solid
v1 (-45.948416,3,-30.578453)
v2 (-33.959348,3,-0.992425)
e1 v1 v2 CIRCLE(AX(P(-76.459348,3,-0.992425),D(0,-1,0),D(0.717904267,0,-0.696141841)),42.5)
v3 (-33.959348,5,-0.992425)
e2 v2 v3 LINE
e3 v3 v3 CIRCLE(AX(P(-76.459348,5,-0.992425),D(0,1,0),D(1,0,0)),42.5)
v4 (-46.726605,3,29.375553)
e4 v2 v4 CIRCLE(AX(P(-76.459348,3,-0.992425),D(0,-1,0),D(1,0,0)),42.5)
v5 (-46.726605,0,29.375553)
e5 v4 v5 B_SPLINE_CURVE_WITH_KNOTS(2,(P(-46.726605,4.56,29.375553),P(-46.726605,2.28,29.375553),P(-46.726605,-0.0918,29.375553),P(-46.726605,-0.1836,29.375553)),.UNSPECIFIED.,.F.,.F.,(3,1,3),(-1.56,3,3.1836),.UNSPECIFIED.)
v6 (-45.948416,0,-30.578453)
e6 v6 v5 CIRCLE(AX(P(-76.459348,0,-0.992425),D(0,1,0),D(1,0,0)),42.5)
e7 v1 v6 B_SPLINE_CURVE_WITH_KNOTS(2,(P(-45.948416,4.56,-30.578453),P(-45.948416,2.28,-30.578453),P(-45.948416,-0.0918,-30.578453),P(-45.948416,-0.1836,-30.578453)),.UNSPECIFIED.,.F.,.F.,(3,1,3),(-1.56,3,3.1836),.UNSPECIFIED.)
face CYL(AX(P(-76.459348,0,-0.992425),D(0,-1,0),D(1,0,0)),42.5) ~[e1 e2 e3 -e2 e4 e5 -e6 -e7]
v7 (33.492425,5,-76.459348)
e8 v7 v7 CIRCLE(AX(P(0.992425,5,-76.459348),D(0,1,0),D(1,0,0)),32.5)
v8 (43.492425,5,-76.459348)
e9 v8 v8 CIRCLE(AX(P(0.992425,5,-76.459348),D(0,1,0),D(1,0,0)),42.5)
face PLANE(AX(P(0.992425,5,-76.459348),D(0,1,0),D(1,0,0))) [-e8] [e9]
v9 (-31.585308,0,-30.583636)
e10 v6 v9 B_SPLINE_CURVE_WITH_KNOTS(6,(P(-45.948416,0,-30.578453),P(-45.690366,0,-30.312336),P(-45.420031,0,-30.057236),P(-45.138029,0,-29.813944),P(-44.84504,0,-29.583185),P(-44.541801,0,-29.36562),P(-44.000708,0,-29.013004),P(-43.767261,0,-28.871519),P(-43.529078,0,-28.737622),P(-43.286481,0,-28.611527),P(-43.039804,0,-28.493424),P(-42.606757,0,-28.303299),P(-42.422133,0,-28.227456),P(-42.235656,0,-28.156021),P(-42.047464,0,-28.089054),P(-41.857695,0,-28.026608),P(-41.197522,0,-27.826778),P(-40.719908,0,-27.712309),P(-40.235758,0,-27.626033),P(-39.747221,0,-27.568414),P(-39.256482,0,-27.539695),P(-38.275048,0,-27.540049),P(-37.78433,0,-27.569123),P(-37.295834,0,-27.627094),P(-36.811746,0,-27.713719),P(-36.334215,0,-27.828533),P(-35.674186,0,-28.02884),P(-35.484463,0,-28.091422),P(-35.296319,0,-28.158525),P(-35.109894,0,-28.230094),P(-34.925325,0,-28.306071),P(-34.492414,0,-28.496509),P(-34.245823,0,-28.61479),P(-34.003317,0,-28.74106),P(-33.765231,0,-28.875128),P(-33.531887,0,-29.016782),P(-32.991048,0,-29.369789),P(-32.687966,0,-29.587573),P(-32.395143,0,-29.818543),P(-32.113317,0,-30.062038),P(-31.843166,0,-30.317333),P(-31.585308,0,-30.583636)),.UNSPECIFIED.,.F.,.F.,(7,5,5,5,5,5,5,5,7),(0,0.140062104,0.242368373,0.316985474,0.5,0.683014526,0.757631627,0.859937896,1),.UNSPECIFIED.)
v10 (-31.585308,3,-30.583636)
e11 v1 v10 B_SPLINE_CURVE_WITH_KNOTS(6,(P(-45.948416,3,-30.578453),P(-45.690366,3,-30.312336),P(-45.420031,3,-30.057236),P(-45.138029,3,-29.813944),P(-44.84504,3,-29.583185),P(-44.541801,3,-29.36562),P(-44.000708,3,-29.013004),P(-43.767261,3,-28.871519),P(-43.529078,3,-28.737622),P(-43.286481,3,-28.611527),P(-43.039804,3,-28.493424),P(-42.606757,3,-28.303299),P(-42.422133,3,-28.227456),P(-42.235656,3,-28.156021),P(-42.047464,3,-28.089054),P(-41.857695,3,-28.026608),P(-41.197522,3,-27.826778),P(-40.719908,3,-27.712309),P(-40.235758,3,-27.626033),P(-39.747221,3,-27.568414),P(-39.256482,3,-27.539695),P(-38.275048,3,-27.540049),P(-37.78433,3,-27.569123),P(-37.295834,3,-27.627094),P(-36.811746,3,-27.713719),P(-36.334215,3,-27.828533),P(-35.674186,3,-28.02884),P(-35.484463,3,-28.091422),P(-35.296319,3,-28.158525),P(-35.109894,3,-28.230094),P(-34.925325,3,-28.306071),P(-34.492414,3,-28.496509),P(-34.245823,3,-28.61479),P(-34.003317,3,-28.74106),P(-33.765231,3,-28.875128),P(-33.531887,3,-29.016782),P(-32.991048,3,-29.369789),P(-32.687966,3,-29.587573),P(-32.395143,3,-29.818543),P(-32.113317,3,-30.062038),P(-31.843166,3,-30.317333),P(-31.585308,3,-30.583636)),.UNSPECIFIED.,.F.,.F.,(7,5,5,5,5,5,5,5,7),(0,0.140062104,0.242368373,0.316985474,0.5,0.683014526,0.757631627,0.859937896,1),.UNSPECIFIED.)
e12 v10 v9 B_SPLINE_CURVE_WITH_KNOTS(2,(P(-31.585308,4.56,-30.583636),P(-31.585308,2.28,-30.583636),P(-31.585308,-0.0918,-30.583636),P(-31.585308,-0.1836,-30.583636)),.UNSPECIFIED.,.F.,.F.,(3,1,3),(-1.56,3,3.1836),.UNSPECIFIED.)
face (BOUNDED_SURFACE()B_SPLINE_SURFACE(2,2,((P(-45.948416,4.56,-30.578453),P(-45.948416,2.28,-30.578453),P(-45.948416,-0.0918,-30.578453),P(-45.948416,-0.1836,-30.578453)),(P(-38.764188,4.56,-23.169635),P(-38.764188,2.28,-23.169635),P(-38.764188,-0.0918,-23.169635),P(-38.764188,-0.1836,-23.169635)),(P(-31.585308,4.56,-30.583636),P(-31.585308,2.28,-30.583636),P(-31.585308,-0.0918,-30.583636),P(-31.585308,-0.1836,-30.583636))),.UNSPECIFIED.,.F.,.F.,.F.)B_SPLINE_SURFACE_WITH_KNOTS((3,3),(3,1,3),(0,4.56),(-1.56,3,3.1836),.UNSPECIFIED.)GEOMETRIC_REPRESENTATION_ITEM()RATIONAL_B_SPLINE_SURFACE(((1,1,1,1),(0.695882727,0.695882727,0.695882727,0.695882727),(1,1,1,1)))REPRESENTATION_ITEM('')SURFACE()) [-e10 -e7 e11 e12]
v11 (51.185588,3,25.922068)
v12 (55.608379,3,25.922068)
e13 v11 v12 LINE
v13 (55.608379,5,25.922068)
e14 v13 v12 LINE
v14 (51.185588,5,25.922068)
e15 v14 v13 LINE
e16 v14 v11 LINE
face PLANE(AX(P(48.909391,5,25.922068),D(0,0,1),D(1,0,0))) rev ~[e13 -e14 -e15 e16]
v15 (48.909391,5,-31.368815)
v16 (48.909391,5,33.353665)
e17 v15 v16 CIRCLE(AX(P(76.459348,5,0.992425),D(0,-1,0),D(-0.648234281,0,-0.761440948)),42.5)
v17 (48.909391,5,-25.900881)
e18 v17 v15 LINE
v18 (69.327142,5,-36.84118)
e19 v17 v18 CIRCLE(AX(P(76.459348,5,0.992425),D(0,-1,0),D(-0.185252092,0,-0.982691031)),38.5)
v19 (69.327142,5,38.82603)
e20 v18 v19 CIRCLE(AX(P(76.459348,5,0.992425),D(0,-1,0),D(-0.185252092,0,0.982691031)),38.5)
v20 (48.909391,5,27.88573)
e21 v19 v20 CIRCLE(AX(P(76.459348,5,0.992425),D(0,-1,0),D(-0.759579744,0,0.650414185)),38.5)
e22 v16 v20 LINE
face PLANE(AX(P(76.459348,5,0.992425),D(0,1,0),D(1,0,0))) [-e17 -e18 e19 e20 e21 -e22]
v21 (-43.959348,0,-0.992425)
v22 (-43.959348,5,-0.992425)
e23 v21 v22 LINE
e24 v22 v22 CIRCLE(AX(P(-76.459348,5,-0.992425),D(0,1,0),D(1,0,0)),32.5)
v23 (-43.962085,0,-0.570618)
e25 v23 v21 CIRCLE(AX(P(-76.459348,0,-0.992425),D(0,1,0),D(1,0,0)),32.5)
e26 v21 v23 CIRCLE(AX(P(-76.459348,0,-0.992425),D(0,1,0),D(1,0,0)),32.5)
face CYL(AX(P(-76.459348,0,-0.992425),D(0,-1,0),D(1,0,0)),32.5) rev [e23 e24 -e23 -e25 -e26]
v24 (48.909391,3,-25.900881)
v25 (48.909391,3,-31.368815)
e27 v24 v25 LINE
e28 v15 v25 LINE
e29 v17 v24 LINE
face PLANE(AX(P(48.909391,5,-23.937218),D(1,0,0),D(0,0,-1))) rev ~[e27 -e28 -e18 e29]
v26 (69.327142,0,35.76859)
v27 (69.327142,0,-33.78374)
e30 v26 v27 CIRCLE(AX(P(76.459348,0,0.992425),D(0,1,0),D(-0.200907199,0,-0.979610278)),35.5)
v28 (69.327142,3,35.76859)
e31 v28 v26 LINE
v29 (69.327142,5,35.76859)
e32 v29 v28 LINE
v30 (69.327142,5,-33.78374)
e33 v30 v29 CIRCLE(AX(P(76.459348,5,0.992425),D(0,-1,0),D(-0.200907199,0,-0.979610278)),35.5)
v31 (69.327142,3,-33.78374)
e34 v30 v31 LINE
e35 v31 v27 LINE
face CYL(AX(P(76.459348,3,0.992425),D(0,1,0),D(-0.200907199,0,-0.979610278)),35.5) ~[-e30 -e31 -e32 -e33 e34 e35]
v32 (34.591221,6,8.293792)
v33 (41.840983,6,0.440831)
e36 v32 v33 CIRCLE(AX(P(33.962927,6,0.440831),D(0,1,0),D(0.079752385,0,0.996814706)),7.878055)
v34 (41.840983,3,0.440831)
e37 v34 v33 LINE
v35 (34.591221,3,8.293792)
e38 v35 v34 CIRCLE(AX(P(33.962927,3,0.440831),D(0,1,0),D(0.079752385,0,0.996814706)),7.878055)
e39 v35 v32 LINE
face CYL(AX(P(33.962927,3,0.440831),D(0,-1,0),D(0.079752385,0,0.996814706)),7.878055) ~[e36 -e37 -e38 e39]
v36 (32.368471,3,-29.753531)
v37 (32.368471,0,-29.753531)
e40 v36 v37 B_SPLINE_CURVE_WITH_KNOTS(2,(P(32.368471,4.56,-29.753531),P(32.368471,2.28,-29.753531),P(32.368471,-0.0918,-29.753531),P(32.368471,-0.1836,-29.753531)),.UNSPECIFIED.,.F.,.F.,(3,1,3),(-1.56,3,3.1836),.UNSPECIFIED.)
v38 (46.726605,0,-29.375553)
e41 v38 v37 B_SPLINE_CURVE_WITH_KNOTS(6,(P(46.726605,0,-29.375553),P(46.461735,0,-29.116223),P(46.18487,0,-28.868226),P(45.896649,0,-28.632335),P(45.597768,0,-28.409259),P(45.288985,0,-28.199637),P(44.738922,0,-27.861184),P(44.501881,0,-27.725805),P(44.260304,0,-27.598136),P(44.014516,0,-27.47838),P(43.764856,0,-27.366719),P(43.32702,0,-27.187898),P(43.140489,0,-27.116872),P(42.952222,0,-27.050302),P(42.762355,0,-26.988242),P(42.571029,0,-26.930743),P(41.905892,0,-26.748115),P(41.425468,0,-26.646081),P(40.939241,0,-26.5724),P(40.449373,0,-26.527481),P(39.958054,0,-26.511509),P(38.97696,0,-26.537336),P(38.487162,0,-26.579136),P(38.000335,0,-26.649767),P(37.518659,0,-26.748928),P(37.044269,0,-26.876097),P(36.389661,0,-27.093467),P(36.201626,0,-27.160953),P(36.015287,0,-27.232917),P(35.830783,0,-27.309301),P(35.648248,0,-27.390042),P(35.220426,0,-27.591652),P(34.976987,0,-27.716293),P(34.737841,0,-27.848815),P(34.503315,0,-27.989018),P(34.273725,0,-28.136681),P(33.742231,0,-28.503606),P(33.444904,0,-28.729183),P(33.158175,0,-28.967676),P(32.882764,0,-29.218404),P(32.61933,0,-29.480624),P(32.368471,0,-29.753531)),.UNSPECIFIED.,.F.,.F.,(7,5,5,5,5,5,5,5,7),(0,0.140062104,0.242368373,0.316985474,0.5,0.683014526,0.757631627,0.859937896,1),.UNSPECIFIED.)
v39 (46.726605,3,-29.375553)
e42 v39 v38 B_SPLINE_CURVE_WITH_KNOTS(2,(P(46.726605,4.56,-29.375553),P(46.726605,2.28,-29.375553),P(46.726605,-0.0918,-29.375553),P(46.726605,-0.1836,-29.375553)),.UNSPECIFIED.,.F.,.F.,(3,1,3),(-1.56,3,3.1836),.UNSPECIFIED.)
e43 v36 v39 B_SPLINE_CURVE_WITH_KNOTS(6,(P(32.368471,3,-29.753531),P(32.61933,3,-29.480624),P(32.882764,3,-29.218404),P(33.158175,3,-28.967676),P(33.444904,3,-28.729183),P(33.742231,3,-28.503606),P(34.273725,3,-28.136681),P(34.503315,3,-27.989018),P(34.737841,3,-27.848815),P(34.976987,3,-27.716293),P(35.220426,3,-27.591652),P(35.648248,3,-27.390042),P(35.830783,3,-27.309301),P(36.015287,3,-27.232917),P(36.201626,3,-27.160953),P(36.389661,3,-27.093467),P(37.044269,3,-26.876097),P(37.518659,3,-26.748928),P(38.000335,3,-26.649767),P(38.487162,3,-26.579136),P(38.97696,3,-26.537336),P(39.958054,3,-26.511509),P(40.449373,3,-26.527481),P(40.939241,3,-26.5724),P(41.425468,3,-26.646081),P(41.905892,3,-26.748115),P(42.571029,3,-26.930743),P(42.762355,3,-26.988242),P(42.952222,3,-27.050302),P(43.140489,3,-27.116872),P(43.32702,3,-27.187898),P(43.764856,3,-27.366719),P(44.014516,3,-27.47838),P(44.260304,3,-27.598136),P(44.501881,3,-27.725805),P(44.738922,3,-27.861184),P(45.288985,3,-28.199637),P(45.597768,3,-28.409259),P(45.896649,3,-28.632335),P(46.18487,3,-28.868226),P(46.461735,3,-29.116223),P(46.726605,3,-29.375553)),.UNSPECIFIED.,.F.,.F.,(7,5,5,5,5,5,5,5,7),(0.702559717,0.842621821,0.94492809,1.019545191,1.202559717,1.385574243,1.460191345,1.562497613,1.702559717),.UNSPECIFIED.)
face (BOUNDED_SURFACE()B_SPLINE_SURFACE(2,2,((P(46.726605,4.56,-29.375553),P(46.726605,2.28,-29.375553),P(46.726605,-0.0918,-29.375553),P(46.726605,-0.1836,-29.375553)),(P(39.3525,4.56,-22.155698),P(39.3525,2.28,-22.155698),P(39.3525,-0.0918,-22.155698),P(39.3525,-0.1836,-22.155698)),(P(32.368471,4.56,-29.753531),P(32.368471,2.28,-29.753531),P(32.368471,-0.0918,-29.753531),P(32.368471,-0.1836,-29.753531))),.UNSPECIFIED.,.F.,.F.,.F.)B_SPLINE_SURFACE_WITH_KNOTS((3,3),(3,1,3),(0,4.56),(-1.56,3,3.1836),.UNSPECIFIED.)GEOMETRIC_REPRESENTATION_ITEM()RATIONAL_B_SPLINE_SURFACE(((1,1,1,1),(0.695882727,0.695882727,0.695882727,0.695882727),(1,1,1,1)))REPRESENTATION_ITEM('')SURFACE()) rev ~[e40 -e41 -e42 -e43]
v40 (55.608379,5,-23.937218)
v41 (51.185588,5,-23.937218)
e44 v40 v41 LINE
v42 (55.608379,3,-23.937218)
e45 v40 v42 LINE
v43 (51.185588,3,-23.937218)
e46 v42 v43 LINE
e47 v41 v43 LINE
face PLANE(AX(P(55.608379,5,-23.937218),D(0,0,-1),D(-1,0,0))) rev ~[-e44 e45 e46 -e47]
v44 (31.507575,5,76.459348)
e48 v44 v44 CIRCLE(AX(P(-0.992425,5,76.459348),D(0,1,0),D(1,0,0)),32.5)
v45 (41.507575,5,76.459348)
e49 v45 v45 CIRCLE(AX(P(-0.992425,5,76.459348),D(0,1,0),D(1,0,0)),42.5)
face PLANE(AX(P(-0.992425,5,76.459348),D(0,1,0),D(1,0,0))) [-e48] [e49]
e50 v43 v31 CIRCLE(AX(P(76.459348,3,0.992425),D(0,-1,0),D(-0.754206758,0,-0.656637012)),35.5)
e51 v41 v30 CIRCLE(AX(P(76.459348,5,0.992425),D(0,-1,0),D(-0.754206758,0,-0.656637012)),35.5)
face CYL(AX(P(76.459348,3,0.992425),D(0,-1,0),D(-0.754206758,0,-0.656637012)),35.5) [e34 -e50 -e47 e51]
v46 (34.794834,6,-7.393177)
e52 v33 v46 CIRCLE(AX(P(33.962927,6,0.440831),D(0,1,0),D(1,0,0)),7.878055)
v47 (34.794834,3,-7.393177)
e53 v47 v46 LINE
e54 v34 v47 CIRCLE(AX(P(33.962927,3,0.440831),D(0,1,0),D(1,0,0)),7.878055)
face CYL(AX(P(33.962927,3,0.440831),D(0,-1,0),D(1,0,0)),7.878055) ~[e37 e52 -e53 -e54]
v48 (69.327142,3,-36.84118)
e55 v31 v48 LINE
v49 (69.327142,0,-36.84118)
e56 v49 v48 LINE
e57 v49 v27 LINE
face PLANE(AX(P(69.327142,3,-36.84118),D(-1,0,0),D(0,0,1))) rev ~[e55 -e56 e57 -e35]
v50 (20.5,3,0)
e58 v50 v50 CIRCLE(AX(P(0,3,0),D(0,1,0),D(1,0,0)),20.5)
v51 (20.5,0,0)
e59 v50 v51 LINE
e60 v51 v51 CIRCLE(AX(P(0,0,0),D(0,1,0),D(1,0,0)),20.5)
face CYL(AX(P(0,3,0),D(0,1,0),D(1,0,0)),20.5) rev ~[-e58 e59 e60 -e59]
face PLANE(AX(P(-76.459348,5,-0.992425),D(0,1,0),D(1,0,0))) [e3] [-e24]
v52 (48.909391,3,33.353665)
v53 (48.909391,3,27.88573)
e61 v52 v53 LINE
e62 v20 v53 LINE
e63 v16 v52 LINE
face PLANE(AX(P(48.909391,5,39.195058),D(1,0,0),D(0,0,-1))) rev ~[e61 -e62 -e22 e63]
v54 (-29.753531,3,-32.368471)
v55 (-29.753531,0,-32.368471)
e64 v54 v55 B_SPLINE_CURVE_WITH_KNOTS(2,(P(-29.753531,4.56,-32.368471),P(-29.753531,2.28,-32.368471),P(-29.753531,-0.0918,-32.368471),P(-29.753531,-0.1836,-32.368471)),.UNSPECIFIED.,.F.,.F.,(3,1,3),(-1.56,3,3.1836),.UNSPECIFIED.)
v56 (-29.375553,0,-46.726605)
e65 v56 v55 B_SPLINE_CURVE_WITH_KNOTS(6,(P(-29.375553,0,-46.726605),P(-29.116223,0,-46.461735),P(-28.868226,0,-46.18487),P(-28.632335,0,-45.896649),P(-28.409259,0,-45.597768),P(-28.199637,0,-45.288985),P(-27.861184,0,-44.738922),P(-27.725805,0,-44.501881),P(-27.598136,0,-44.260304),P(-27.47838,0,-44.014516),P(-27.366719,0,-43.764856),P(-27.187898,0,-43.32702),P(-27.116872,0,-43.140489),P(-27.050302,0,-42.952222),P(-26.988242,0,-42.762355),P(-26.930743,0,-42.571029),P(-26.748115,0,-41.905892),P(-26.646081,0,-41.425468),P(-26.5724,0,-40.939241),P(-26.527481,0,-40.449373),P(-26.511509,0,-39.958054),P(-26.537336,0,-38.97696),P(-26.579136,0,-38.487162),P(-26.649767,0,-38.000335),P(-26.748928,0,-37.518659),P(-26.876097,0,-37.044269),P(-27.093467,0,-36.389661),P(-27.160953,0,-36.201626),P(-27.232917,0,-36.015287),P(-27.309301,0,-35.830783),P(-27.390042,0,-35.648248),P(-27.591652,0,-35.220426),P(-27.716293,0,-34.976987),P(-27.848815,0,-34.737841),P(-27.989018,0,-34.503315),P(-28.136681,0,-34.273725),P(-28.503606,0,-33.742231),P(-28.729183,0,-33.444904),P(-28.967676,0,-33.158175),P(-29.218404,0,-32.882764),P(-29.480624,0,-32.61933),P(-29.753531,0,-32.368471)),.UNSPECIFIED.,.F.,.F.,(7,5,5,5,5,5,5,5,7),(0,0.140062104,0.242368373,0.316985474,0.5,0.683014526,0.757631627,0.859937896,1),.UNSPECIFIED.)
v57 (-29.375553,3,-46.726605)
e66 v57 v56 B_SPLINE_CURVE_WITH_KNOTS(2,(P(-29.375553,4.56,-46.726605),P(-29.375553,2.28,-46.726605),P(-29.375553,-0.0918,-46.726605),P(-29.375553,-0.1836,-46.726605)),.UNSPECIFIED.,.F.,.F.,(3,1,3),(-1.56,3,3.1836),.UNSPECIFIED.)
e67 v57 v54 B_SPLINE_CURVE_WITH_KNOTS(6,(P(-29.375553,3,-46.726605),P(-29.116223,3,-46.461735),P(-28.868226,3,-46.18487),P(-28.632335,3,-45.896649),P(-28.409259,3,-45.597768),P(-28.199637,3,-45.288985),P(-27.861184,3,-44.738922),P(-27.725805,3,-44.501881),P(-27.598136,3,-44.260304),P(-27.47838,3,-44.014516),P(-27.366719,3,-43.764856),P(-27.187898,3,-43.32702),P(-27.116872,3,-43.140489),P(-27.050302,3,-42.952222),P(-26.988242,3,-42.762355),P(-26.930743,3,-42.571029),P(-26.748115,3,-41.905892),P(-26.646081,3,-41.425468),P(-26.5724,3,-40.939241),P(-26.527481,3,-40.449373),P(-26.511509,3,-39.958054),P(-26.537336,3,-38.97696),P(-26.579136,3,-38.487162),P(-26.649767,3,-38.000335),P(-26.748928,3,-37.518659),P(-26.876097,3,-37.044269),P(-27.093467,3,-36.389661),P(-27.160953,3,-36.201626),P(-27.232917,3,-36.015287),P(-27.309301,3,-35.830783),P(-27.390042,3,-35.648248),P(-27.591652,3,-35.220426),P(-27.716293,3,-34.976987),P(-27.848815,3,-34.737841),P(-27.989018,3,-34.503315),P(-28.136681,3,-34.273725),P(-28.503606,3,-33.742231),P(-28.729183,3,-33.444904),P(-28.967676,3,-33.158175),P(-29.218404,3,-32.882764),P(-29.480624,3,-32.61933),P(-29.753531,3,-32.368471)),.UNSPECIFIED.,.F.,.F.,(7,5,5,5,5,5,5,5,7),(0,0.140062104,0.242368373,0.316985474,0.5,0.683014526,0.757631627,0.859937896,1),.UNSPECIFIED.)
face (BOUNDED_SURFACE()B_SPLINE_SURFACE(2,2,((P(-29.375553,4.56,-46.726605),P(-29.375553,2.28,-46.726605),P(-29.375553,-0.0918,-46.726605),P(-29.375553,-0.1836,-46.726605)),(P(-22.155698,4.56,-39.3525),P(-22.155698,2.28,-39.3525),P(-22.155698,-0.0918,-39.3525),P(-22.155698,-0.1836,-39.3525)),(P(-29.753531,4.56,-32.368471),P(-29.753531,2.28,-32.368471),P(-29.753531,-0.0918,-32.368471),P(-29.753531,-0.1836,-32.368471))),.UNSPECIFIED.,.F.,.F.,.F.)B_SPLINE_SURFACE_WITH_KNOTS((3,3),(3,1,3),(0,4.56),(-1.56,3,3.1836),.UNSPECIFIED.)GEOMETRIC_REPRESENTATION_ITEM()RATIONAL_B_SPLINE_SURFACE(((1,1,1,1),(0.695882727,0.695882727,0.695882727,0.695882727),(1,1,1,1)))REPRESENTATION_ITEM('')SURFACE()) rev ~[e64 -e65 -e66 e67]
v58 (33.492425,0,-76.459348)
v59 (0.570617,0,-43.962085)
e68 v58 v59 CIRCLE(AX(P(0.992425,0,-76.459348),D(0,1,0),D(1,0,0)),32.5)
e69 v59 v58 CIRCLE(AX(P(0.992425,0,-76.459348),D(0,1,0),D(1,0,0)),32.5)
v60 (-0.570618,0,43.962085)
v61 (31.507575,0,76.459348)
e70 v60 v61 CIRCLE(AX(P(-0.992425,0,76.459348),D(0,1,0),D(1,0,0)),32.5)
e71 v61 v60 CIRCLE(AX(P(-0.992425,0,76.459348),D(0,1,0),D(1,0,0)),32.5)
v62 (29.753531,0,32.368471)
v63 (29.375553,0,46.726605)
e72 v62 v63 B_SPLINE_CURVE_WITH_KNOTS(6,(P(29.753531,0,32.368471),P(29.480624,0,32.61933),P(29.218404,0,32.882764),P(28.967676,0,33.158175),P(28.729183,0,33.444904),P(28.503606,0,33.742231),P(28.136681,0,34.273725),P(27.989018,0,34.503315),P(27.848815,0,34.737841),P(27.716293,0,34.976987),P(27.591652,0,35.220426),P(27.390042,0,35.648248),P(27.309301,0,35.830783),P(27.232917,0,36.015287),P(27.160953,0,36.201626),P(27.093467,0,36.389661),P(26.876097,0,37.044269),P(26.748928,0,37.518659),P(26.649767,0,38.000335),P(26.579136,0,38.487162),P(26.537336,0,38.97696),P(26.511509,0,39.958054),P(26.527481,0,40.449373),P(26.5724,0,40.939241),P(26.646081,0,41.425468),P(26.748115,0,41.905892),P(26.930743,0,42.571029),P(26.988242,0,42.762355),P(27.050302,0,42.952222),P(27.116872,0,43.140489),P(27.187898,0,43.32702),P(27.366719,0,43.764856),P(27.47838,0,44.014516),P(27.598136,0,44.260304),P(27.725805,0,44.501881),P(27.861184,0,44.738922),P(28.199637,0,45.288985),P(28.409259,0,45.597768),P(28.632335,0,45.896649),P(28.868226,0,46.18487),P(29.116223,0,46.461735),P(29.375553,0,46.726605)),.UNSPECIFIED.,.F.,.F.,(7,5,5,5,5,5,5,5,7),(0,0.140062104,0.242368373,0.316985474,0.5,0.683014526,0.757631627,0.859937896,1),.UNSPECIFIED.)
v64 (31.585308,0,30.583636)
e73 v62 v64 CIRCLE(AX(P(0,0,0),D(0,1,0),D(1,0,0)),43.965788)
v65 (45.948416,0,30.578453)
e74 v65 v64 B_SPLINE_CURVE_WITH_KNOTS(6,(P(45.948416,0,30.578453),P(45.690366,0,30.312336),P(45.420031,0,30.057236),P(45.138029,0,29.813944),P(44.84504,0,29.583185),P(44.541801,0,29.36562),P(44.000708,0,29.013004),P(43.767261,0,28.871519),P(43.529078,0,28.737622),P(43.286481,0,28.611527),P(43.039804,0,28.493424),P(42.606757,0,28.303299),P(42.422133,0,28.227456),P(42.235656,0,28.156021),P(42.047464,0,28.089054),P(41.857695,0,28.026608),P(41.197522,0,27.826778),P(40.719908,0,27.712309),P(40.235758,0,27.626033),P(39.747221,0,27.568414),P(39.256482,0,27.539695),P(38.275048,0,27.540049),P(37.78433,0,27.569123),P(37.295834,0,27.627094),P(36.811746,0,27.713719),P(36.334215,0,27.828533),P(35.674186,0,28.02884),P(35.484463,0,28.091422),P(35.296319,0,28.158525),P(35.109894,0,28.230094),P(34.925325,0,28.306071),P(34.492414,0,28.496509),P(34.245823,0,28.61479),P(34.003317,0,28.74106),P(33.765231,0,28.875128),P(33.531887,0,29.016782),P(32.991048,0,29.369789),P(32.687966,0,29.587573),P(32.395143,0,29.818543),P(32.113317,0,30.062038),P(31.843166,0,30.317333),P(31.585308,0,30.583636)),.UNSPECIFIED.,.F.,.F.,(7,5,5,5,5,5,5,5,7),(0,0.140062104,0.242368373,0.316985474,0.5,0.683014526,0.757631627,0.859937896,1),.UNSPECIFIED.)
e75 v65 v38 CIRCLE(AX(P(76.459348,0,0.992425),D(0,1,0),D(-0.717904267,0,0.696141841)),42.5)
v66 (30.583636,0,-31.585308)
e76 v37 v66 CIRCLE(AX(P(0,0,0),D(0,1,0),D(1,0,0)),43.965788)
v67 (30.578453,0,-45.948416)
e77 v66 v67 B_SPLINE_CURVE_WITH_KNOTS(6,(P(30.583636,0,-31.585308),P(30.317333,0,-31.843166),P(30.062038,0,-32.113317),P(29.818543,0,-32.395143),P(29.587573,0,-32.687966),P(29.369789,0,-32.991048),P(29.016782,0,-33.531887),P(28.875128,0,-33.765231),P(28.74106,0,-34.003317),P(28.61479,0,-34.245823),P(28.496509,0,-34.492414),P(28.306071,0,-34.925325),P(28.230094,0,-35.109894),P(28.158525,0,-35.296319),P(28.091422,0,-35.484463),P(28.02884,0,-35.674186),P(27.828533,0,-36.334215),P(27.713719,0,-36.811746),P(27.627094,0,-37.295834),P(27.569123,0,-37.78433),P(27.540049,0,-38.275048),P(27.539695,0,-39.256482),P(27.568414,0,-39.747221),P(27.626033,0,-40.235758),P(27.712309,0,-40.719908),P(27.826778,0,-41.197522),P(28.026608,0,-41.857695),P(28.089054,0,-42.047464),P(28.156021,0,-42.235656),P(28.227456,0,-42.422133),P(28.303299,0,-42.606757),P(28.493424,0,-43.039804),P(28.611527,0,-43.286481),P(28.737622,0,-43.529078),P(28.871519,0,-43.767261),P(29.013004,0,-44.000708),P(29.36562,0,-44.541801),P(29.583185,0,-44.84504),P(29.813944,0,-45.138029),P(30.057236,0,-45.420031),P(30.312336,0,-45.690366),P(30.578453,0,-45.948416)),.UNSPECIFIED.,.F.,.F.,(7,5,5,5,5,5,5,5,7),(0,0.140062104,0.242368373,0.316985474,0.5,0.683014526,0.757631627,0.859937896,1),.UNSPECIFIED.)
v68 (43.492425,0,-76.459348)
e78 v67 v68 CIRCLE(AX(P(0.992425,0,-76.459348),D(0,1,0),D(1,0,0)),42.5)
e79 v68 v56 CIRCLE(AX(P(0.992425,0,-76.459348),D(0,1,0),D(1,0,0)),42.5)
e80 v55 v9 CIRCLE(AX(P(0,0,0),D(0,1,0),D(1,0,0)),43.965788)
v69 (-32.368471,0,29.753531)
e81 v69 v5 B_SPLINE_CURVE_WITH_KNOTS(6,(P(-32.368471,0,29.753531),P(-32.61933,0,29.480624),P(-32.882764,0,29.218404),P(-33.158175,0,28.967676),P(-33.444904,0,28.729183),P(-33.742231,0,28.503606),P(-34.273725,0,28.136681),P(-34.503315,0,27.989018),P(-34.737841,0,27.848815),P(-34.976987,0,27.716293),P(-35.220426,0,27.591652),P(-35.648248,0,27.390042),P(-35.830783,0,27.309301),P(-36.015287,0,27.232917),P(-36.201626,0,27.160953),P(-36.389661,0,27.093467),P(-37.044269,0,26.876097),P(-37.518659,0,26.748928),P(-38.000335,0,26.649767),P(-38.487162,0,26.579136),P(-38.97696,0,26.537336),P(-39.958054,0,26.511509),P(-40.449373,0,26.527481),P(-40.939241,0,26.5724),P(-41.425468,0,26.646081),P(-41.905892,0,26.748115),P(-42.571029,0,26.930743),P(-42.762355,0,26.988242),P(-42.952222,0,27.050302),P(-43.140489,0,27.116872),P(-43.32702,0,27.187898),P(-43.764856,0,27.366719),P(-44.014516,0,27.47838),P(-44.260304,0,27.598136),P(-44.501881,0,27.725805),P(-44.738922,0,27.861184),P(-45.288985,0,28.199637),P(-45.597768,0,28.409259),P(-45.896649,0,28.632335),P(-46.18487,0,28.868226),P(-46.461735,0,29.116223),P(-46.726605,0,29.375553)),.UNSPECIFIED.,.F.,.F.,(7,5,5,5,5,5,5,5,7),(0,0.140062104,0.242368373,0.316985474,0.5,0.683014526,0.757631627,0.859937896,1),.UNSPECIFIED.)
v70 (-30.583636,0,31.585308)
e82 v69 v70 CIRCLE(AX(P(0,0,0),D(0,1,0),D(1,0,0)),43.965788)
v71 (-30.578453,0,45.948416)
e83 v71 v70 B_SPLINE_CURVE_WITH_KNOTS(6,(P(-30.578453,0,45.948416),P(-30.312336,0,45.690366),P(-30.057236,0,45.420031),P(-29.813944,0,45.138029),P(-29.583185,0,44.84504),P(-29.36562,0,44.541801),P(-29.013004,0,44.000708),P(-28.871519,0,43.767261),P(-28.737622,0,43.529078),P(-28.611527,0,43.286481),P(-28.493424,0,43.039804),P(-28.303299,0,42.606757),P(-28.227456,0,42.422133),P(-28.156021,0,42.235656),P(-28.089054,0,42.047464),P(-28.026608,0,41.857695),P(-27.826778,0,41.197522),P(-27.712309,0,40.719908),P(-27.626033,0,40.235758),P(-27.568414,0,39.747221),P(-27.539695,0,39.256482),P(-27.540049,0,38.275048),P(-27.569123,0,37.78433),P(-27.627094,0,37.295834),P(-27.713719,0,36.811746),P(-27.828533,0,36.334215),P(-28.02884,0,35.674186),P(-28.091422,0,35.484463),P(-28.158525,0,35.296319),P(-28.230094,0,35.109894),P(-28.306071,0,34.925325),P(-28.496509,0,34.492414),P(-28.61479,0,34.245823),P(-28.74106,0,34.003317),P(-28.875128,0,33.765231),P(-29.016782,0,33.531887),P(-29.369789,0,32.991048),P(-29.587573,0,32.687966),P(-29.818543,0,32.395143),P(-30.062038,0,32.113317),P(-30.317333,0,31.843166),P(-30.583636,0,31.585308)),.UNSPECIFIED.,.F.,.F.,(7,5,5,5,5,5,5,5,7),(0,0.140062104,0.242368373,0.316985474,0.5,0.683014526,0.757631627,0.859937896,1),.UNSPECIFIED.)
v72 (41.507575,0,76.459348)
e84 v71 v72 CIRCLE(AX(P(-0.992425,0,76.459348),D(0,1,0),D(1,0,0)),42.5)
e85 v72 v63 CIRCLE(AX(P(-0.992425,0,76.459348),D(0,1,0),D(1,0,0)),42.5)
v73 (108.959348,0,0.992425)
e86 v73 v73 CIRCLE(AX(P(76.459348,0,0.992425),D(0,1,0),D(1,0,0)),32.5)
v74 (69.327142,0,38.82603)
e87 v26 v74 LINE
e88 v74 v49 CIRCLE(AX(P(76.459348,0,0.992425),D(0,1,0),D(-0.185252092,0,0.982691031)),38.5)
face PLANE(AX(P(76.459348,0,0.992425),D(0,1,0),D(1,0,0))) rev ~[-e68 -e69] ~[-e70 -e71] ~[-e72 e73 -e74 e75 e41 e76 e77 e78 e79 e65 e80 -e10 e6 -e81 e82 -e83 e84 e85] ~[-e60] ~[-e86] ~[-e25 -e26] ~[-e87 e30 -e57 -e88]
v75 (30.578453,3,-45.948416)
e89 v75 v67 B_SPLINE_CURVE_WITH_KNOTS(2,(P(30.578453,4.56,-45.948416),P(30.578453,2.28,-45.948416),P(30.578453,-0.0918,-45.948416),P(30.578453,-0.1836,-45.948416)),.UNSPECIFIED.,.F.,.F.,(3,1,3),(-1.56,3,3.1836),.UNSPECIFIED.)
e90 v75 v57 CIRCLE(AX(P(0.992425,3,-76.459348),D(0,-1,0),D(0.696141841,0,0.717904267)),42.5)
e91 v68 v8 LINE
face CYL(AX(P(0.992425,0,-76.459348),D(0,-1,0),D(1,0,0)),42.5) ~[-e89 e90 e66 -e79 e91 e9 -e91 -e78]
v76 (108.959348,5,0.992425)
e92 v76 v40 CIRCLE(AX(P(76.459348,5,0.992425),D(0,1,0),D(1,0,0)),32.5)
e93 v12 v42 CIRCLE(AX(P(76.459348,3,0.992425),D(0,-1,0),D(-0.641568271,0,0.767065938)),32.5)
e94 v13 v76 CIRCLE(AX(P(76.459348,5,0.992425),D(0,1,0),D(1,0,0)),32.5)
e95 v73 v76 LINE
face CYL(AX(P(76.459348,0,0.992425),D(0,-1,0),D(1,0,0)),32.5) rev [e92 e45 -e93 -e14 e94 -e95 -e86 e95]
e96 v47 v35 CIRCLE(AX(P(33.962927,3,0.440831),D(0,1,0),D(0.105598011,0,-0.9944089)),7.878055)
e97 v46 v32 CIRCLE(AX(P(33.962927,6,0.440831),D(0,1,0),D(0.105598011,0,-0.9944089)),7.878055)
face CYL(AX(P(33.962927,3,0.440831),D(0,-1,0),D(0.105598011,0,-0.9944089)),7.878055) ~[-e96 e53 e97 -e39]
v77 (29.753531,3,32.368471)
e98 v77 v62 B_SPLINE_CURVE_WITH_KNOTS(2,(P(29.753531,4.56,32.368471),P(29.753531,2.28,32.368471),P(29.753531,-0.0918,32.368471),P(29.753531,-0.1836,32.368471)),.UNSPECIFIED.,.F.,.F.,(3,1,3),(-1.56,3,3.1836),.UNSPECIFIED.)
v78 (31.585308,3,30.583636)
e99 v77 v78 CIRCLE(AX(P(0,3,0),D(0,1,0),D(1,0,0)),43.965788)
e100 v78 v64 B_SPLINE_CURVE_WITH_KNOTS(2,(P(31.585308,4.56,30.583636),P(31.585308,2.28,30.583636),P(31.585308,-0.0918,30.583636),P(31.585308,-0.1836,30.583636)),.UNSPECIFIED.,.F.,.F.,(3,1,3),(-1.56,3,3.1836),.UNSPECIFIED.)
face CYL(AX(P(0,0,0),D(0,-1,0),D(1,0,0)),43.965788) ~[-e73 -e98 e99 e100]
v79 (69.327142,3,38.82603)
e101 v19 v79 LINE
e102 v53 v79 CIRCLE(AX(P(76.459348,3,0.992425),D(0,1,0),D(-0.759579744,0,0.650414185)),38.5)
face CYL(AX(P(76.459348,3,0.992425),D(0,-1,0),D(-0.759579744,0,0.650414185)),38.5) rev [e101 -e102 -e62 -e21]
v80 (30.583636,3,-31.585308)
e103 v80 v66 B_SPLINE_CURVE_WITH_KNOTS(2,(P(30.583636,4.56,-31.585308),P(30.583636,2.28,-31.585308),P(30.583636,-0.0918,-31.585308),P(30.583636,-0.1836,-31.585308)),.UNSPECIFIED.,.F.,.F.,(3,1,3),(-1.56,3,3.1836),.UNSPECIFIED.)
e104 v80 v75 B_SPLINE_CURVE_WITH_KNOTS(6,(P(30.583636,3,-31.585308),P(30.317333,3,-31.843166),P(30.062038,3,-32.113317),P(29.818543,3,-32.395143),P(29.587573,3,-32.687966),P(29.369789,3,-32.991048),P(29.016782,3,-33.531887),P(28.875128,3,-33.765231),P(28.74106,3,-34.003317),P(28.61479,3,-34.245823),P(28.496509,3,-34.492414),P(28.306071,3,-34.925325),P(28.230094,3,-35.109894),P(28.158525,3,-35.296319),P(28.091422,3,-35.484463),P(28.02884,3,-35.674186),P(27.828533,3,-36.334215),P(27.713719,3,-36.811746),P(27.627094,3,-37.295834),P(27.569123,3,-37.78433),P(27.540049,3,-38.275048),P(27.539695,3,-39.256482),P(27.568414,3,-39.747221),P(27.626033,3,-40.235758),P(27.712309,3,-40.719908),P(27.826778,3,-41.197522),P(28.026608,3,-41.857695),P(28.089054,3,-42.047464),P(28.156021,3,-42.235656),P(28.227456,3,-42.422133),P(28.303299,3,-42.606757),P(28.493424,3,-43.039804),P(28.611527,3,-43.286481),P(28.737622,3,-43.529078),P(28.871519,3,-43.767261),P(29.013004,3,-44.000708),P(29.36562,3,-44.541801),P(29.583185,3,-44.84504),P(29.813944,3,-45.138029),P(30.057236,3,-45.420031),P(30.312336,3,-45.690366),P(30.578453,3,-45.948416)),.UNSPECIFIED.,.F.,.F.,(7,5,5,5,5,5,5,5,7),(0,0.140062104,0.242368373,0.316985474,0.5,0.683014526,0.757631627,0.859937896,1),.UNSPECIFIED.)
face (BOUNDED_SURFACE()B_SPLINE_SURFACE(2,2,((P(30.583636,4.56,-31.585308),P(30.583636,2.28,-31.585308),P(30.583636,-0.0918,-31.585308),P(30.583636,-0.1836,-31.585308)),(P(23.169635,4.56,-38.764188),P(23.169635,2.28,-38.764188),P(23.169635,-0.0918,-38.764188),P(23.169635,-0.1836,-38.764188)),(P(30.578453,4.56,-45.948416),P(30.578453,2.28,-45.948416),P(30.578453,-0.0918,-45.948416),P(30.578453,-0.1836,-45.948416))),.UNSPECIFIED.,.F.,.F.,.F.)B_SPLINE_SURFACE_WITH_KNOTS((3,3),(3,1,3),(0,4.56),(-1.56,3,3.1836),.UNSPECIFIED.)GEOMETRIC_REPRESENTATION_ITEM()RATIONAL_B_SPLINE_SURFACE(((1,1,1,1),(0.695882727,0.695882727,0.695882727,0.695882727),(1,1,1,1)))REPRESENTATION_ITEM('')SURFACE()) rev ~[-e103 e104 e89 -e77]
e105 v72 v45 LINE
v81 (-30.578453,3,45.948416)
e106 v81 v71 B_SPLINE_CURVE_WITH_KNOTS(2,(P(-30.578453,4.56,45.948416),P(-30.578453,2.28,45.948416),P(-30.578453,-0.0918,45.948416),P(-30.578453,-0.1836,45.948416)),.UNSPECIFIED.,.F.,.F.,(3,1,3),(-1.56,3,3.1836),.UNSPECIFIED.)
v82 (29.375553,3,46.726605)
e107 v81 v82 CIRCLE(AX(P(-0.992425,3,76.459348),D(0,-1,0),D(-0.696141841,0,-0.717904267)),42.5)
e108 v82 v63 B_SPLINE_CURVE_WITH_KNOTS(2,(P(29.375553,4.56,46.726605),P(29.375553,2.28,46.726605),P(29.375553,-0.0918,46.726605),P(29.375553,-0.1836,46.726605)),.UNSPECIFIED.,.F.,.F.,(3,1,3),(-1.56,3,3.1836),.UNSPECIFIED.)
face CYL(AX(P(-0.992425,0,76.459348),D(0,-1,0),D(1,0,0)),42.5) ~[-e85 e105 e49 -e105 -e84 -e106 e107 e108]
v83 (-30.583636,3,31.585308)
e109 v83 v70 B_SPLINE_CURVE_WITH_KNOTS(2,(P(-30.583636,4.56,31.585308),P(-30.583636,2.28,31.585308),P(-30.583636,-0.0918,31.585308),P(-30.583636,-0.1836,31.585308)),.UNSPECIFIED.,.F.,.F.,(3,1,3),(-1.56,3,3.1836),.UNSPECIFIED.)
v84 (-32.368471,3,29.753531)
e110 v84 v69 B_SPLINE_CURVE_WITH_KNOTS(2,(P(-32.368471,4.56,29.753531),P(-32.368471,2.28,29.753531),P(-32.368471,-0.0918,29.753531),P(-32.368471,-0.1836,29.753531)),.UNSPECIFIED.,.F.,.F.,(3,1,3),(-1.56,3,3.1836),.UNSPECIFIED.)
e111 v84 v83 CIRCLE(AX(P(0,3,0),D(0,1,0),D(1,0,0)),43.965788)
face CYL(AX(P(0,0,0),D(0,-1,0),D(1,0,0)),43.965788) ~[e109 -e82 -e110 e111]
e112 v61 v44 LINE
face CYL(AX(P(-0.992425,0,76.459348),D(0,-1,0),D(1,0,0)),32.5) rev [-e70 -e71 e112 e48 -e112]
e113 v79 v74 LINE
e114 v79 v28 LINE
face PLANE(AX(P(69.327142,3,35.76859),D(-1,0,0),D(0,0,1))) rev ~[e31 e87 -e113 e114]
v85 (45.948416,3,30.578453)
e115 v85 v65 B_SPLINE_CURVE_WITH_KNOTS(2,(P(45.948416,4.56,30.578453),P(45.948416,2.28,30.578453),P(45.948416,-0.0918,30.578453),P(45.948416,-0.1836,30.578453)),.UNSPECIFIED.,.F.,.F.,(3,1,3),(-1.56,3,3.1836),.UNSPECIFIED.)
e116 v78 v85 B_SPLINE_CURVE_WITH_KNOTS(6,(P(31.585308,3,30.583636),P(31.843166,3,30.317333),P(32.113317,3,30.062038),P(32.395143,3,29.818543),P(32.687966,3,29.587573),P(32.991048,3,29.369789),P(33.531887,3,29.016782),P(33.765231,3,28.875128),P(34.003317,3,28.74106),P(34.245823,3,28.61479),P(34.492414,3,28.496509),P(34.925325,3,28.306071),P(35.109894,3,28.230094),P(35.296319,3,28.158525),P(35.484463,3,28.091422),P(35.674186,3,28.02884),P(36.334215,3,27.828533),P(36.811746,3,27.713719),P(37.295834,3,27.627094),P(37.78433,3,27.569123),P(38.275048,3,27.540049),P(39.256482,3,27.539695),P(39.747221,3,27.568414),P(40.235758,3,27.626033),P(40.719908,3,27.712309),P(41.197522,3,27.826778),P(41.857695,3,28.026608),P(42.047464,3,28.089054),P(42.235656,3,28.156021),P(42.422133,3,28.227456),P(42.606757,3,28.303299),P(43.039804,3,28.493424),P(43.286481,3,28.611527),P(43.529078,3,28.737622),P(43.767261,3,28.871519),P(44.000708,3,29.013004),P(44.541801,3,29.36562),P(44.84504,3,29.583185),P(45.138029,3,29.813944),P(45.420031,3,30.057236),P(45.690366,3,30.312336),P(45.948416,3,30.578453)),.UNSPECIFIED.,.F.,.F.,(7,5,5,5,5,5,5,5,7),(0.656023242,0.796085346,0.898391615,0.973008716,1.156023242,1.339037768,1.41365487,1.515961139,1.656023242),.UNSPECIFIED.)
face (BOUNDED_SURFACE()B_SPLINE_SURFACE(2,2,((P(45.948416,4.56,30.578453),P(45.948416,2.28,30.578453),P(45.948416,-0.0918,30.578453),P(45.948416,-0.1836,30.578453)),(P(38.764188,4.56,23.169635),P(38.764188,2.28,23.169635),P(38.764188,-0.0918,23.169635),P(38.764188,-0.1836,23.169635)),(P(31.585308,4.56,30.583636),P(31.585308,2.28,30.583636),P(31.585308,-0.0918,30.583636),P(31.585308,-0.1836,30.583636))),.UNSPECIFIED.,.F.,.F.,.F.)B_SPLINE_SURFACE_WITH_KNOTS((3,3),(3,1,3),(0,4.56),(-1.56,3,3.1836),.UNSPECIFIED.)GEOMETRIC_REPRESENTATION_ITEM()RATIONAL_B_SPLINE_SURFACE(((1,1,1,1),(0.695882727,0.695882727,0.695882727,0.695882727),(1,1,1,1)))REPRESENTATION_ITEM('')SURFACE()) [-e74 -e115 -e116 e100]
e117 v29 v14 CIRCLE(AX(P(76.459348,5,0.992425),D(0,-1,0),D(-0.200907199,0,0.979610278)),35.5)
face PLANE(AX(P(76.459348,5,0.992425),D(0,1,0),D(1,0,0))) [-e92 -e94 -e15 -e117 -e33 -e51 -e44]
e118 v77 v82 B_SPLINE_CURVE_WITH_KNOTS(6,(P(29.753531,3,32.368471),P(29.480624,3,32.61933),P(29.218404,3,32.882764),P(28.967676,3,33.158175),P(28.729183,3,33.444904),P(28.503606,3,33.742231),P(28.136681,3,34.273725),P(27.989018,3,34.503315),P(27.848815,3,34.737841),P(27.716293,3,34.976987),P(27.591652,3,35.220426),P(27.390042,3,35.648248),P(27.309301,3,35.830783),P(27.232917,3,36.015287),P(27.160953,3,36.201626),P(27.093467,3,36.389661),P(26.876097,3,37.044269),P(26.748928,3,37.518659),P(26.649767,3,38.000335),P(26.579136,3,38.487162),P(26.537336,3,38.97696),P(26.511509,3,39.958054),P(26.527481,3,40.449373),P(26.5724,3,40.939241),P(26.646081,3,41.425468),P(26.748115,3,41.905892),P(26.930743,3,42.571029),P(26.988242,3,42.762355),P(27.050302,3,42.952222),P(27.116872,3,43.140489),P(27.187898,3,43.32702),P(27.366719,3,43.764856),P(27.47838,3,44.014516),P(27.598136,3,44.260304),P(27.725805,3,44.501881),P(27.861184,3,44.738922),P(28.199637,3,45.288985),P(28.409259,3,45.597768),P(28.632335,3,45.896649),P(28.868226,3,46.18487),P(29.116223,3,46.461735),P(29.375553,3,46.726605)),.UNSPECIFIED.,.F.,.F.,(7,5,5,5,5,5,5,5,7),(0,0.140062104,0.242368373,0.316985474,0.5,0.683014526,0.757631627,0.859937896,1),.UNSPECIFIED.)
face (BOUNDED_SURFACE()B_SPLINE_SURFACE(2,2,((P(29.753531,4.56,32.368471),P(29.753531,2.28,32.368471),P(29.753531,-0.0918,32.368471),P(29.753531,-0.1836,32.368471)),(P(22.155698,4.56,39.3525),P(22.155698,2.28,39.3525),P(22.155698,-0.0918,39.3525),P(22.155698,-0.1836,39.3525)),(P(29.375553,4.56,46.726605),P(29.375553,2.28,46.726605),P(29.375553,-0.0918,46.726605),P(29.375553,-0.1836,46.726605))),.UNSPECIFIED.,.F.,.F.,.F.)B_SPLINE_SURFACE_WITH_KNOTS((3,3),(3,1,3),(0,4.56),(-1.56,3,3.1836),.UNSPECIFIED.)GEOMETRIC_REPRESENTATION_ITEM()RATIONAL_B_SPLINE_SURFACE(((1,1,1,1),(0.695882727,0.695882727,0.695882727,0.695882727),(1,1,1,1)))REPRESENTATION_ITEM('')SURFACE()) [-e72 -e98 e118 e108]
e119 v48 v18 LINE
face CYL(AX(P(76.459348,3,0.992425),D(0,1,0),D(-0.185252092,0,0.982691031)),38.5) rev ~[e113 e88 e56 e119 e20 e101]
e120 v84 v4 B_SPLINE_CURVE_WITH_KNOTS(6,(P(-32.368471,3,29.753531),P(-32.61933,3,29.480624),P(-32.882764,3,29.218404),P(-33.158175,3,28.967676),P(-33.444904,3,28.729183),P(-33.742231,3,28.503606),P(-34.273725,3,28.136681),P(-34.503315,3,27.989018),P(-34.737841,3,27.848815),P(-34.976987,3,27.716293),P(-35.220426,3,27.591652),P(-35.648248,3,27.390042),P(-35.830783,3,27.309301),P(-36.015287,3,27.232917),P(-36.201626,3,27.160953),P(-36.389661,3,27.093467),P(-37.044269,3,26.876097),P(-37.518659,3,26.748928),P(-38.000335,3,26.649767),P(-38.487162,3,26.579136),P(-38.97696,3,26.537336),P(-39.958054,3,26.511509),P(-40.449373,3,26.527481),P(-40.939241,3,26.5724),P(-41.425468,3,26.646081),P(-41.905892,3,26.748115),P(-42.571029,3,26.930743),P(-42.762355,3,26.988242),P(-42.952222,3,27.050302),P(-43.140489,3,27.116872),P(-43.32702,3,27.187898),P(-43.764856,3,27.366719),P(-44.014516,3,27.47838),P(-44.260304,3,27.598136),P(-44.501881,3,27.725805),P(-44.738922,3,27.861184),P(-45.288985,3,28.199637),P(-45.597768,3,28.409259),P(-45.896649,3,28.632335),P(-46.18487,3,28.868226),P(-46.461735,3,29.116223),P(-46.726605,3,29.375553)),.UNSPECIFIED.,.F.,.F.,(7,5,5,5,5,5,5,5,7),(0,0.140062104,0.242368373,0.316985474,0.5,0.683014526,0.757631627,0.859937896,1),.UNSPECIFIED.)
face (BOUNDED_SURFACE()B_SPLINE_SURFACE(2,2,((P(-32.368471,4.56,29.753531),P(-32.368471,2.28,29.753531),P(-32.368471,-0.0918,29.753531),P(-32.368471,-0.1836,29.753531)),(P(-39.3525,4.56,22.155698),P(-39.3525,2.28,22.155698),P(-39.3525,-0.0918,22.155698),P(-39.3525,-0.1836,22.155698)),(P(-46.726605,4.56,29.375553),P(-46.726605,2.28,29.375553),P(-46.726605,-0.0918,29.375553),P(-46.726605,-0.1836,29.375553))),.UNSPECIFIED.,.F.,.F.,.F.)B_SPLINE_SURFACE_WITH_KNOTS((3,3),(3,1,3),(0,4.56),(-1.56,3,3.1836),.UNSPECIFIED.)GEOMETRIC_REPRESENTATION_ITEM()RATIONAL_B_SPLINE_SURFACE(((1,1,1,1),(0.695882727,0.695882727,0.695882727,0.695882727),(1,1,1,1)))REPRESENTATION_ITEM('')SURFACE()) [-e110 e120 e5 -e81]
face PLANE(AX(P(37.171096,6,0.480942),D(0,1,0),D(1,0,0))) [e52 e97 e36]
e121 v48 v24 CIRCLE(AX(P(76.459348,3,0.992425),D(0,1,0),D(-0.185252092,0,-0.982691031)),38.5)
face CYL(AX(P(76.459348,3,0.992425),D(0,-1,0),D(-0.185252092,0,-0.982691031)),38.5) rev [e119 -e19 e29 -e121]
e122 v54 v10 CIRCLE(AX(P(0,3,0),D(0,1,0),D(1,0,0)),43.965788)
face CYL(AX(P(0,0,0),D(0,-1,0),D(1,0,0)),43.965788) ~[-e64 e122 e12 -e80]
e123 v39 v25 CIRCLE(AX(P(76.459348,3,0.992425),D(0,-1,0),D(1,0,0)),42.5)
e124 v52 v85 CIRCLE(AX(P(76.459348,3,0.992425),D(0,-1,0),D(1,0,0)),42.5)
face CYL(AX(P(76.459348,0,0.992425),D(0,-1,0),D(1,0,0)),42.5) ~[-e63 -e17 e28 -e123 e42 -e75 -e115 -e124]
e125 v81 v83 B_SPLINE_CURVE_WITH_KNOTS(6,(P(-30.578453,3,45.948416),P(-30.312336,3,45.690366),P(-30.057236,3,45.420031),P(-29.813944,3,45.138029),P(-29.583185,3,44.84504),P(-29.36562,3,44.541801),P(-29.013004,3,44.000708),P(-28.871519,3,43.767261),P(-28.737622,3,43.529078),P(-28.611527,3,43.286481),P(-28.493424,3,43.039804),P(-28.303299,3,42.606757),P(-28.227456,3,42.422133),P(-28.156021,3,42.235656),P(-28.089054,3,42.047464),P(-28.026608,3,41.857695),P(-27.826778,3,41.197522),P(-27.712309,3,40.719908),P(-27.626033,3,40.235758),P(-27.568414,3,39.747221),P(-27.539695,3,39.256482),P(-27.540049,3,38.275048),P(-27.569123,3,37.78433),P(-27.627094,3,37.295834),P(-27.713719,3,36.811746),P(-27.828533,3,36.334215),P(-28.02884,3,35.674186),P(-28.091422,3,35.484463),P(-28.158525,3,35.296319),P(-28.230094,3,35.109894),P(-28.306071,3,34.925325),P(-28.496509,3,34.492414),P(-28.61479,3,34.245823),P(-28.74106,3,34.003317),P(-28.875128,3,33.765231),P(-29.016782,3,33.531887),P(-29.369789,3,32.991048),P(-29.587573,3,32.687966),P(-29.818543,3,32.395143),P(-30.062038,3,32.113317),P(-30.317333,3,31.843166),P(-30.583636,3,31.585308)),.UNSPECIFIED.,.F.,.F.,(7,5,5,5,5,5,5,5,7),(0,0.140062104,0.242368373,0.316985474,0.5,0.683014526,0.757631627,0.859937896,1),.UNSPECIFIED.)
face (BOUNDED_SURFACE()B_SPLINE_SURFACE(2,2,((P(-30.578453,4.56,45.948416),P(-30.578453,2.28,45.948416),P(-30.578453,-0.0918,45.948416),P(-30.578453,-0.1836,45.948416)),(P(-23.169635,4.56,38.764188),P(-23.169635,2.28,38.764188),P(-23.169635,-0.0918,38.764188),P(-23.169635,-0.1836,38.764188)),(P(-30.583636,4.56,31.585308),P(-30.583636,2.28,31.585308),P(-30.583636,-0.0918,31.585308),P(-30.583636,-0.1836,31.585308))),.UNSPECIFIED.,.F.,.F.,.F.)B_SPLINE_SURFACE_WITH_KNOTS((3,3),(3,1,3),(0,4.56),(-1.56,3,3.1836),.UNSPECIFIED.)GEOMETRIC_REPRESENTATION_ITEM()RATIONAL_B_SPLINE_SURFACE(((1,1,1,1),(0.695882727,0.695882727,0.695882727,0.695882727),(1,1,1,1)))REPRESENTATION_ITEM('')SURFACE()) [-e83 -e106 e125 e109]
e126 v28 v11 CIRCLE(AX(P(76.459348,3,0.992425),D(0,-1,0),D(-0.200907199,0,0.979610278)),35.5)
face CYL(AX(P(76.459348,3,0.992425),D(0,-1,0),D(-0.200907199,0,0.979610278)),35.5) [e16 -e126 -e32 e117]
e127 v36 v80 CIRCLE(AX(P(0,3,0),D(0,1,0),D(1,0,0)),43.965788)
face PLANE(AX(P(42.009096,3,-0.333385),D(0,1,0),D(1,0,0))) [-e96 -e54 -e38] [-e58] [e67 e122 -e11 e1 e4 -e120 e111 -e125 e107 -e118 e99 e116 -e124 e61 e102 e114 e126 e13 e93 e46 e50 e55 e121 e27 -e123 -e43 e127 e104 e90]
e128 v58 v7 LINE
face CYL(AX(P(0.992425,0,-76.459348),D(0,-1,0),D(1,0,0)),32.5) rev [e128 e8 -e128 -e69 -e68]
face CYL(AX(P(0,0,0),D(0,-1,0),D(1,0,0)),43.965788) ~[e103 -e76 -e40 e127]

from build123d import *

# Parameters (mm, degrees)
IZIM1_R                     = 43.965787967
Y_KSEKLIK_EKSTR_ZYON1_DEPTH = 3
IZIM1_3_R                   = 42.5
IZIM1_3_R_2                 = 32.5
EKSTR_ZYON_NCE1_DEPTH       = 5
RADYUS1_R                   = 10
KES_EKSTR_ZYON1_DEPTH       = 3.0000001
KES_EKSTR_ZYON1_DEPTH_BACK  = 4.0000001
KES_EKSTR_ZYON2_DEPTH       = 2
KES_EKSTR_ZYON3_DEPTH       = 3.0000001
IZIM6_R                     = 20.5
KES_EKSTR_ZYON4_DEPTH       = 4.0000001
Y_KSEKLIK_EKSTR_ZYON4_DEPTH = 3


with BuildPart() as part:
    # Çizim1 → Yükseklik-Ekstrüzyon1 (new body)
    with BuildSketch(Plane(origin=(0, 0, 0), x_dir=(1, 0, 0), z_dir=(0, 1, 0))):
        Circle(IZIM1_R)
    extrude(amount=Y_KSEKLIK_EKSTR_ZYON1_DEPTH)

    # Çizim1<3> → Ekstrüzyon-İnce1 (add)
    with BuildSketch(Plane(origin=(0, 0, 0), x_dir=(1, 0, 0), z_dir=(0, 1, 0))):
        with Locations((76.459347515, -0.992424829)):
            Circle(IZIM1_3_R)
        with Locations((76.459347515, -0.992424829)):
            Circle(IZIM1_3_R_2, mode=Mode.SUBTRACT)
        with Locations((-0.992424829, -76.459347515)):
            Circle(IZIM1_3_R)
        with Locations((-0.992424829, -76.459347515)):
            Circle(IZIM1_3_R_2, mode=Mode.SUBTRACT)
        with Locations((-76.459347515, 0.992424829)):
            Circle(IZIM1_3_R)
        with Locations((-76.459347515, 0.992424829)):
            Circle(IZIM1_3_R_2, mode=Mode.SUBTRACT)
        with Locations((0.992424829, 76.459347515)):
            Circle(IZIM1_3_R)
        with Locations((0.992424829, 76.459347515)):
            Circle(IZIM1_3_R_2, mode=Mode.SUBTRACT)
    extrude(amount=EKSTR_ZYON_NCE1_DEPTH)

    # Radyus1
    radyus1_edges = [part.edges().sort_by_distance(p)[0] for p in [
        (-20.683952175, 1.5, 38.796451307),
        (19.670015447, 1.5, 39.320236569),
        (38.796451307, 1.5, 20.683952175),
        (39.320236569, 1.5, -19.670015447),
        (20.683952175, 1.5, -38.796451307),
        (-19.670015447, 1.5, -39.320236569),
        (-38.796451307, 1.5, -20.683952175),
        (-39.320236569, 1.5, 19.670015447),
    ]]
    fillet(radyus1_edges, radius=RADYUS1_R)

    # Çizim3 → Kes-Ekstrüzyon1 (cut, two sides)
    with BuildSketch(Plane(origin=(0, 3, 0), x_dir=(1, 0, 0), z_dir=(0, 1, 0))) as kes_ekstr_zyon1_sk:
        with BuildLine():
            Line((69.327141955, 36.841179861), (69.327141955, 33.783740052))
            ThreePointArc((69.327141955, 33.783740052), (111.959347515, -0.992424829), (69.327141955, -35.76858971))
            Line((69.327141955, -35.76858971), (69.327141955, -38.826029519))
            ThreePointArc((69.327141955, -38.826029519), (114.959347515, -0.992424829), (69.327141955, 36.841179861))
        make_face()
    extrude(amount=KES_EKSTR_ZYON1_DEPTH, mode=Mode.SUBTRACT)
    extrude(kes_ekstr_zyon1_sk.sketch, amount=-KES_EKSTR_ZYON1_DEPTH_BACK, mode=Mode.SUBTRACT)

    # Çizim4 → Kes-Ekstrüzyon2 (cut)
    with BuildSketch(Plane(origin=(0, 5, 0), x_dir=(1, 0, 0), z_dir=(0, 1, 0))):
        Polygon((48.909390592, -25.92206781), (55.608378692, -25.92206781), (55.608378692, 23.937218152), (48.909390592, 23.937218152), (48.909390592, 40.294217079), (36.28293528, 40.294217079), (36.28293528, 23.937218152), (27.96095337, 23.937218152), (27.96095337, -25.92206781), (36.28293528, -25.92206781), (36.28293528, -39.195058406), (48.909390592, -39.195058406), align=None)
    extrude(amount=-KES_EKSTR_ZYON2_DEPTH, mode=Mode.SUBTRACT)

    # Çizim3<4> → Kes-Ekstrüzyon3 (cut, through all)
    with BuildSketch(Plane(origin=(0, 3, 0), x_dir=(1, 0, 0), z_dir=(0, 1, 0))):
        with BuildLine():
            ThreePointArc((47.215527353, -26.033370944), (57.179387966, -34.317087765), (69.327141955, -38.826029519))
            Line((69.327141955, -38.826029519), (69.327141955, -35.76858971))
            ThreePointArc((69.327141955, -35.76858971), (58.437150617, -31.577558783), (49.494266586, -24.08212839))
            Line((49.494266586, -24.08212839), (47.215527353, -26.033370944))
        make_face()
        with BuildLine():
            Line((69.327141955, 33.783740052), (69.327141955, 36.841179861))
            ThreePointArc((69.327141955, 36.841179861), (57.316539714, 32.411211343), (47.42238732, 24.288100138))
            Line((47.42238732, 24.288100138), (49.685007595, 22.318189102))
            ThreePointArc((49.685007595, 22.318189102), (58.563030261, 29.666535179), (69.327141955, 33.783740052))
        make_face()
    extrude(amount=KES_EKSTR_ZYON3_DEPTH, mode=Mode.SUBTRACT)

    # Çizim6 → Kes-Ekstrüzyon4 (cut, through all)
    with BuildSketch(Plane(origin=(0, 3, 0), x_dir=(1, 0, 0), z_dir=(0, 1, 0))):
        Circle(IZIM6_R)
    extrude(amount=-KES_EKSTR_ZYON4_DEPTH, mode=Mode.SUBTRACT)

    # Çizim3<6> → Yükseklik-Ekstrüzyon4 (add)
    with BuildSketch(Plane(origin=(0, 3, 0), x_dir=(1, 0, 0), z_dir=(0, 1, 0))):
        with BuildLine():
            ThreePointArc((34.591220847, -8.293792461), (39.7514282, -5.784707132), (41.840982512, -0.44083102))
            ThreePointArc((41.840982512, -0.44083102), (39.820297101, 4.827467905), (34.794834124, 7.39317735))
            ThreePointArc((34.794834124, 7.39317735), (33.962927145, -0.44083102), (34.591220847, -8.293792461))
        make_face()
        with BuildLine():
            ThreePointArc((34.591220847, -8.293792461), (33.962927145, -0.44083102), (34.794834124, 7.39317735))
            ThreePointArc((34.794834124, 7.39317735), (26.08553532, -0.338584277), (34.591220847, -8.293792461))
        make_face()
    extrude(amount=Y_KSEKLIK_EKSTR_ZYON4_DEPTH)


solid = part.part
